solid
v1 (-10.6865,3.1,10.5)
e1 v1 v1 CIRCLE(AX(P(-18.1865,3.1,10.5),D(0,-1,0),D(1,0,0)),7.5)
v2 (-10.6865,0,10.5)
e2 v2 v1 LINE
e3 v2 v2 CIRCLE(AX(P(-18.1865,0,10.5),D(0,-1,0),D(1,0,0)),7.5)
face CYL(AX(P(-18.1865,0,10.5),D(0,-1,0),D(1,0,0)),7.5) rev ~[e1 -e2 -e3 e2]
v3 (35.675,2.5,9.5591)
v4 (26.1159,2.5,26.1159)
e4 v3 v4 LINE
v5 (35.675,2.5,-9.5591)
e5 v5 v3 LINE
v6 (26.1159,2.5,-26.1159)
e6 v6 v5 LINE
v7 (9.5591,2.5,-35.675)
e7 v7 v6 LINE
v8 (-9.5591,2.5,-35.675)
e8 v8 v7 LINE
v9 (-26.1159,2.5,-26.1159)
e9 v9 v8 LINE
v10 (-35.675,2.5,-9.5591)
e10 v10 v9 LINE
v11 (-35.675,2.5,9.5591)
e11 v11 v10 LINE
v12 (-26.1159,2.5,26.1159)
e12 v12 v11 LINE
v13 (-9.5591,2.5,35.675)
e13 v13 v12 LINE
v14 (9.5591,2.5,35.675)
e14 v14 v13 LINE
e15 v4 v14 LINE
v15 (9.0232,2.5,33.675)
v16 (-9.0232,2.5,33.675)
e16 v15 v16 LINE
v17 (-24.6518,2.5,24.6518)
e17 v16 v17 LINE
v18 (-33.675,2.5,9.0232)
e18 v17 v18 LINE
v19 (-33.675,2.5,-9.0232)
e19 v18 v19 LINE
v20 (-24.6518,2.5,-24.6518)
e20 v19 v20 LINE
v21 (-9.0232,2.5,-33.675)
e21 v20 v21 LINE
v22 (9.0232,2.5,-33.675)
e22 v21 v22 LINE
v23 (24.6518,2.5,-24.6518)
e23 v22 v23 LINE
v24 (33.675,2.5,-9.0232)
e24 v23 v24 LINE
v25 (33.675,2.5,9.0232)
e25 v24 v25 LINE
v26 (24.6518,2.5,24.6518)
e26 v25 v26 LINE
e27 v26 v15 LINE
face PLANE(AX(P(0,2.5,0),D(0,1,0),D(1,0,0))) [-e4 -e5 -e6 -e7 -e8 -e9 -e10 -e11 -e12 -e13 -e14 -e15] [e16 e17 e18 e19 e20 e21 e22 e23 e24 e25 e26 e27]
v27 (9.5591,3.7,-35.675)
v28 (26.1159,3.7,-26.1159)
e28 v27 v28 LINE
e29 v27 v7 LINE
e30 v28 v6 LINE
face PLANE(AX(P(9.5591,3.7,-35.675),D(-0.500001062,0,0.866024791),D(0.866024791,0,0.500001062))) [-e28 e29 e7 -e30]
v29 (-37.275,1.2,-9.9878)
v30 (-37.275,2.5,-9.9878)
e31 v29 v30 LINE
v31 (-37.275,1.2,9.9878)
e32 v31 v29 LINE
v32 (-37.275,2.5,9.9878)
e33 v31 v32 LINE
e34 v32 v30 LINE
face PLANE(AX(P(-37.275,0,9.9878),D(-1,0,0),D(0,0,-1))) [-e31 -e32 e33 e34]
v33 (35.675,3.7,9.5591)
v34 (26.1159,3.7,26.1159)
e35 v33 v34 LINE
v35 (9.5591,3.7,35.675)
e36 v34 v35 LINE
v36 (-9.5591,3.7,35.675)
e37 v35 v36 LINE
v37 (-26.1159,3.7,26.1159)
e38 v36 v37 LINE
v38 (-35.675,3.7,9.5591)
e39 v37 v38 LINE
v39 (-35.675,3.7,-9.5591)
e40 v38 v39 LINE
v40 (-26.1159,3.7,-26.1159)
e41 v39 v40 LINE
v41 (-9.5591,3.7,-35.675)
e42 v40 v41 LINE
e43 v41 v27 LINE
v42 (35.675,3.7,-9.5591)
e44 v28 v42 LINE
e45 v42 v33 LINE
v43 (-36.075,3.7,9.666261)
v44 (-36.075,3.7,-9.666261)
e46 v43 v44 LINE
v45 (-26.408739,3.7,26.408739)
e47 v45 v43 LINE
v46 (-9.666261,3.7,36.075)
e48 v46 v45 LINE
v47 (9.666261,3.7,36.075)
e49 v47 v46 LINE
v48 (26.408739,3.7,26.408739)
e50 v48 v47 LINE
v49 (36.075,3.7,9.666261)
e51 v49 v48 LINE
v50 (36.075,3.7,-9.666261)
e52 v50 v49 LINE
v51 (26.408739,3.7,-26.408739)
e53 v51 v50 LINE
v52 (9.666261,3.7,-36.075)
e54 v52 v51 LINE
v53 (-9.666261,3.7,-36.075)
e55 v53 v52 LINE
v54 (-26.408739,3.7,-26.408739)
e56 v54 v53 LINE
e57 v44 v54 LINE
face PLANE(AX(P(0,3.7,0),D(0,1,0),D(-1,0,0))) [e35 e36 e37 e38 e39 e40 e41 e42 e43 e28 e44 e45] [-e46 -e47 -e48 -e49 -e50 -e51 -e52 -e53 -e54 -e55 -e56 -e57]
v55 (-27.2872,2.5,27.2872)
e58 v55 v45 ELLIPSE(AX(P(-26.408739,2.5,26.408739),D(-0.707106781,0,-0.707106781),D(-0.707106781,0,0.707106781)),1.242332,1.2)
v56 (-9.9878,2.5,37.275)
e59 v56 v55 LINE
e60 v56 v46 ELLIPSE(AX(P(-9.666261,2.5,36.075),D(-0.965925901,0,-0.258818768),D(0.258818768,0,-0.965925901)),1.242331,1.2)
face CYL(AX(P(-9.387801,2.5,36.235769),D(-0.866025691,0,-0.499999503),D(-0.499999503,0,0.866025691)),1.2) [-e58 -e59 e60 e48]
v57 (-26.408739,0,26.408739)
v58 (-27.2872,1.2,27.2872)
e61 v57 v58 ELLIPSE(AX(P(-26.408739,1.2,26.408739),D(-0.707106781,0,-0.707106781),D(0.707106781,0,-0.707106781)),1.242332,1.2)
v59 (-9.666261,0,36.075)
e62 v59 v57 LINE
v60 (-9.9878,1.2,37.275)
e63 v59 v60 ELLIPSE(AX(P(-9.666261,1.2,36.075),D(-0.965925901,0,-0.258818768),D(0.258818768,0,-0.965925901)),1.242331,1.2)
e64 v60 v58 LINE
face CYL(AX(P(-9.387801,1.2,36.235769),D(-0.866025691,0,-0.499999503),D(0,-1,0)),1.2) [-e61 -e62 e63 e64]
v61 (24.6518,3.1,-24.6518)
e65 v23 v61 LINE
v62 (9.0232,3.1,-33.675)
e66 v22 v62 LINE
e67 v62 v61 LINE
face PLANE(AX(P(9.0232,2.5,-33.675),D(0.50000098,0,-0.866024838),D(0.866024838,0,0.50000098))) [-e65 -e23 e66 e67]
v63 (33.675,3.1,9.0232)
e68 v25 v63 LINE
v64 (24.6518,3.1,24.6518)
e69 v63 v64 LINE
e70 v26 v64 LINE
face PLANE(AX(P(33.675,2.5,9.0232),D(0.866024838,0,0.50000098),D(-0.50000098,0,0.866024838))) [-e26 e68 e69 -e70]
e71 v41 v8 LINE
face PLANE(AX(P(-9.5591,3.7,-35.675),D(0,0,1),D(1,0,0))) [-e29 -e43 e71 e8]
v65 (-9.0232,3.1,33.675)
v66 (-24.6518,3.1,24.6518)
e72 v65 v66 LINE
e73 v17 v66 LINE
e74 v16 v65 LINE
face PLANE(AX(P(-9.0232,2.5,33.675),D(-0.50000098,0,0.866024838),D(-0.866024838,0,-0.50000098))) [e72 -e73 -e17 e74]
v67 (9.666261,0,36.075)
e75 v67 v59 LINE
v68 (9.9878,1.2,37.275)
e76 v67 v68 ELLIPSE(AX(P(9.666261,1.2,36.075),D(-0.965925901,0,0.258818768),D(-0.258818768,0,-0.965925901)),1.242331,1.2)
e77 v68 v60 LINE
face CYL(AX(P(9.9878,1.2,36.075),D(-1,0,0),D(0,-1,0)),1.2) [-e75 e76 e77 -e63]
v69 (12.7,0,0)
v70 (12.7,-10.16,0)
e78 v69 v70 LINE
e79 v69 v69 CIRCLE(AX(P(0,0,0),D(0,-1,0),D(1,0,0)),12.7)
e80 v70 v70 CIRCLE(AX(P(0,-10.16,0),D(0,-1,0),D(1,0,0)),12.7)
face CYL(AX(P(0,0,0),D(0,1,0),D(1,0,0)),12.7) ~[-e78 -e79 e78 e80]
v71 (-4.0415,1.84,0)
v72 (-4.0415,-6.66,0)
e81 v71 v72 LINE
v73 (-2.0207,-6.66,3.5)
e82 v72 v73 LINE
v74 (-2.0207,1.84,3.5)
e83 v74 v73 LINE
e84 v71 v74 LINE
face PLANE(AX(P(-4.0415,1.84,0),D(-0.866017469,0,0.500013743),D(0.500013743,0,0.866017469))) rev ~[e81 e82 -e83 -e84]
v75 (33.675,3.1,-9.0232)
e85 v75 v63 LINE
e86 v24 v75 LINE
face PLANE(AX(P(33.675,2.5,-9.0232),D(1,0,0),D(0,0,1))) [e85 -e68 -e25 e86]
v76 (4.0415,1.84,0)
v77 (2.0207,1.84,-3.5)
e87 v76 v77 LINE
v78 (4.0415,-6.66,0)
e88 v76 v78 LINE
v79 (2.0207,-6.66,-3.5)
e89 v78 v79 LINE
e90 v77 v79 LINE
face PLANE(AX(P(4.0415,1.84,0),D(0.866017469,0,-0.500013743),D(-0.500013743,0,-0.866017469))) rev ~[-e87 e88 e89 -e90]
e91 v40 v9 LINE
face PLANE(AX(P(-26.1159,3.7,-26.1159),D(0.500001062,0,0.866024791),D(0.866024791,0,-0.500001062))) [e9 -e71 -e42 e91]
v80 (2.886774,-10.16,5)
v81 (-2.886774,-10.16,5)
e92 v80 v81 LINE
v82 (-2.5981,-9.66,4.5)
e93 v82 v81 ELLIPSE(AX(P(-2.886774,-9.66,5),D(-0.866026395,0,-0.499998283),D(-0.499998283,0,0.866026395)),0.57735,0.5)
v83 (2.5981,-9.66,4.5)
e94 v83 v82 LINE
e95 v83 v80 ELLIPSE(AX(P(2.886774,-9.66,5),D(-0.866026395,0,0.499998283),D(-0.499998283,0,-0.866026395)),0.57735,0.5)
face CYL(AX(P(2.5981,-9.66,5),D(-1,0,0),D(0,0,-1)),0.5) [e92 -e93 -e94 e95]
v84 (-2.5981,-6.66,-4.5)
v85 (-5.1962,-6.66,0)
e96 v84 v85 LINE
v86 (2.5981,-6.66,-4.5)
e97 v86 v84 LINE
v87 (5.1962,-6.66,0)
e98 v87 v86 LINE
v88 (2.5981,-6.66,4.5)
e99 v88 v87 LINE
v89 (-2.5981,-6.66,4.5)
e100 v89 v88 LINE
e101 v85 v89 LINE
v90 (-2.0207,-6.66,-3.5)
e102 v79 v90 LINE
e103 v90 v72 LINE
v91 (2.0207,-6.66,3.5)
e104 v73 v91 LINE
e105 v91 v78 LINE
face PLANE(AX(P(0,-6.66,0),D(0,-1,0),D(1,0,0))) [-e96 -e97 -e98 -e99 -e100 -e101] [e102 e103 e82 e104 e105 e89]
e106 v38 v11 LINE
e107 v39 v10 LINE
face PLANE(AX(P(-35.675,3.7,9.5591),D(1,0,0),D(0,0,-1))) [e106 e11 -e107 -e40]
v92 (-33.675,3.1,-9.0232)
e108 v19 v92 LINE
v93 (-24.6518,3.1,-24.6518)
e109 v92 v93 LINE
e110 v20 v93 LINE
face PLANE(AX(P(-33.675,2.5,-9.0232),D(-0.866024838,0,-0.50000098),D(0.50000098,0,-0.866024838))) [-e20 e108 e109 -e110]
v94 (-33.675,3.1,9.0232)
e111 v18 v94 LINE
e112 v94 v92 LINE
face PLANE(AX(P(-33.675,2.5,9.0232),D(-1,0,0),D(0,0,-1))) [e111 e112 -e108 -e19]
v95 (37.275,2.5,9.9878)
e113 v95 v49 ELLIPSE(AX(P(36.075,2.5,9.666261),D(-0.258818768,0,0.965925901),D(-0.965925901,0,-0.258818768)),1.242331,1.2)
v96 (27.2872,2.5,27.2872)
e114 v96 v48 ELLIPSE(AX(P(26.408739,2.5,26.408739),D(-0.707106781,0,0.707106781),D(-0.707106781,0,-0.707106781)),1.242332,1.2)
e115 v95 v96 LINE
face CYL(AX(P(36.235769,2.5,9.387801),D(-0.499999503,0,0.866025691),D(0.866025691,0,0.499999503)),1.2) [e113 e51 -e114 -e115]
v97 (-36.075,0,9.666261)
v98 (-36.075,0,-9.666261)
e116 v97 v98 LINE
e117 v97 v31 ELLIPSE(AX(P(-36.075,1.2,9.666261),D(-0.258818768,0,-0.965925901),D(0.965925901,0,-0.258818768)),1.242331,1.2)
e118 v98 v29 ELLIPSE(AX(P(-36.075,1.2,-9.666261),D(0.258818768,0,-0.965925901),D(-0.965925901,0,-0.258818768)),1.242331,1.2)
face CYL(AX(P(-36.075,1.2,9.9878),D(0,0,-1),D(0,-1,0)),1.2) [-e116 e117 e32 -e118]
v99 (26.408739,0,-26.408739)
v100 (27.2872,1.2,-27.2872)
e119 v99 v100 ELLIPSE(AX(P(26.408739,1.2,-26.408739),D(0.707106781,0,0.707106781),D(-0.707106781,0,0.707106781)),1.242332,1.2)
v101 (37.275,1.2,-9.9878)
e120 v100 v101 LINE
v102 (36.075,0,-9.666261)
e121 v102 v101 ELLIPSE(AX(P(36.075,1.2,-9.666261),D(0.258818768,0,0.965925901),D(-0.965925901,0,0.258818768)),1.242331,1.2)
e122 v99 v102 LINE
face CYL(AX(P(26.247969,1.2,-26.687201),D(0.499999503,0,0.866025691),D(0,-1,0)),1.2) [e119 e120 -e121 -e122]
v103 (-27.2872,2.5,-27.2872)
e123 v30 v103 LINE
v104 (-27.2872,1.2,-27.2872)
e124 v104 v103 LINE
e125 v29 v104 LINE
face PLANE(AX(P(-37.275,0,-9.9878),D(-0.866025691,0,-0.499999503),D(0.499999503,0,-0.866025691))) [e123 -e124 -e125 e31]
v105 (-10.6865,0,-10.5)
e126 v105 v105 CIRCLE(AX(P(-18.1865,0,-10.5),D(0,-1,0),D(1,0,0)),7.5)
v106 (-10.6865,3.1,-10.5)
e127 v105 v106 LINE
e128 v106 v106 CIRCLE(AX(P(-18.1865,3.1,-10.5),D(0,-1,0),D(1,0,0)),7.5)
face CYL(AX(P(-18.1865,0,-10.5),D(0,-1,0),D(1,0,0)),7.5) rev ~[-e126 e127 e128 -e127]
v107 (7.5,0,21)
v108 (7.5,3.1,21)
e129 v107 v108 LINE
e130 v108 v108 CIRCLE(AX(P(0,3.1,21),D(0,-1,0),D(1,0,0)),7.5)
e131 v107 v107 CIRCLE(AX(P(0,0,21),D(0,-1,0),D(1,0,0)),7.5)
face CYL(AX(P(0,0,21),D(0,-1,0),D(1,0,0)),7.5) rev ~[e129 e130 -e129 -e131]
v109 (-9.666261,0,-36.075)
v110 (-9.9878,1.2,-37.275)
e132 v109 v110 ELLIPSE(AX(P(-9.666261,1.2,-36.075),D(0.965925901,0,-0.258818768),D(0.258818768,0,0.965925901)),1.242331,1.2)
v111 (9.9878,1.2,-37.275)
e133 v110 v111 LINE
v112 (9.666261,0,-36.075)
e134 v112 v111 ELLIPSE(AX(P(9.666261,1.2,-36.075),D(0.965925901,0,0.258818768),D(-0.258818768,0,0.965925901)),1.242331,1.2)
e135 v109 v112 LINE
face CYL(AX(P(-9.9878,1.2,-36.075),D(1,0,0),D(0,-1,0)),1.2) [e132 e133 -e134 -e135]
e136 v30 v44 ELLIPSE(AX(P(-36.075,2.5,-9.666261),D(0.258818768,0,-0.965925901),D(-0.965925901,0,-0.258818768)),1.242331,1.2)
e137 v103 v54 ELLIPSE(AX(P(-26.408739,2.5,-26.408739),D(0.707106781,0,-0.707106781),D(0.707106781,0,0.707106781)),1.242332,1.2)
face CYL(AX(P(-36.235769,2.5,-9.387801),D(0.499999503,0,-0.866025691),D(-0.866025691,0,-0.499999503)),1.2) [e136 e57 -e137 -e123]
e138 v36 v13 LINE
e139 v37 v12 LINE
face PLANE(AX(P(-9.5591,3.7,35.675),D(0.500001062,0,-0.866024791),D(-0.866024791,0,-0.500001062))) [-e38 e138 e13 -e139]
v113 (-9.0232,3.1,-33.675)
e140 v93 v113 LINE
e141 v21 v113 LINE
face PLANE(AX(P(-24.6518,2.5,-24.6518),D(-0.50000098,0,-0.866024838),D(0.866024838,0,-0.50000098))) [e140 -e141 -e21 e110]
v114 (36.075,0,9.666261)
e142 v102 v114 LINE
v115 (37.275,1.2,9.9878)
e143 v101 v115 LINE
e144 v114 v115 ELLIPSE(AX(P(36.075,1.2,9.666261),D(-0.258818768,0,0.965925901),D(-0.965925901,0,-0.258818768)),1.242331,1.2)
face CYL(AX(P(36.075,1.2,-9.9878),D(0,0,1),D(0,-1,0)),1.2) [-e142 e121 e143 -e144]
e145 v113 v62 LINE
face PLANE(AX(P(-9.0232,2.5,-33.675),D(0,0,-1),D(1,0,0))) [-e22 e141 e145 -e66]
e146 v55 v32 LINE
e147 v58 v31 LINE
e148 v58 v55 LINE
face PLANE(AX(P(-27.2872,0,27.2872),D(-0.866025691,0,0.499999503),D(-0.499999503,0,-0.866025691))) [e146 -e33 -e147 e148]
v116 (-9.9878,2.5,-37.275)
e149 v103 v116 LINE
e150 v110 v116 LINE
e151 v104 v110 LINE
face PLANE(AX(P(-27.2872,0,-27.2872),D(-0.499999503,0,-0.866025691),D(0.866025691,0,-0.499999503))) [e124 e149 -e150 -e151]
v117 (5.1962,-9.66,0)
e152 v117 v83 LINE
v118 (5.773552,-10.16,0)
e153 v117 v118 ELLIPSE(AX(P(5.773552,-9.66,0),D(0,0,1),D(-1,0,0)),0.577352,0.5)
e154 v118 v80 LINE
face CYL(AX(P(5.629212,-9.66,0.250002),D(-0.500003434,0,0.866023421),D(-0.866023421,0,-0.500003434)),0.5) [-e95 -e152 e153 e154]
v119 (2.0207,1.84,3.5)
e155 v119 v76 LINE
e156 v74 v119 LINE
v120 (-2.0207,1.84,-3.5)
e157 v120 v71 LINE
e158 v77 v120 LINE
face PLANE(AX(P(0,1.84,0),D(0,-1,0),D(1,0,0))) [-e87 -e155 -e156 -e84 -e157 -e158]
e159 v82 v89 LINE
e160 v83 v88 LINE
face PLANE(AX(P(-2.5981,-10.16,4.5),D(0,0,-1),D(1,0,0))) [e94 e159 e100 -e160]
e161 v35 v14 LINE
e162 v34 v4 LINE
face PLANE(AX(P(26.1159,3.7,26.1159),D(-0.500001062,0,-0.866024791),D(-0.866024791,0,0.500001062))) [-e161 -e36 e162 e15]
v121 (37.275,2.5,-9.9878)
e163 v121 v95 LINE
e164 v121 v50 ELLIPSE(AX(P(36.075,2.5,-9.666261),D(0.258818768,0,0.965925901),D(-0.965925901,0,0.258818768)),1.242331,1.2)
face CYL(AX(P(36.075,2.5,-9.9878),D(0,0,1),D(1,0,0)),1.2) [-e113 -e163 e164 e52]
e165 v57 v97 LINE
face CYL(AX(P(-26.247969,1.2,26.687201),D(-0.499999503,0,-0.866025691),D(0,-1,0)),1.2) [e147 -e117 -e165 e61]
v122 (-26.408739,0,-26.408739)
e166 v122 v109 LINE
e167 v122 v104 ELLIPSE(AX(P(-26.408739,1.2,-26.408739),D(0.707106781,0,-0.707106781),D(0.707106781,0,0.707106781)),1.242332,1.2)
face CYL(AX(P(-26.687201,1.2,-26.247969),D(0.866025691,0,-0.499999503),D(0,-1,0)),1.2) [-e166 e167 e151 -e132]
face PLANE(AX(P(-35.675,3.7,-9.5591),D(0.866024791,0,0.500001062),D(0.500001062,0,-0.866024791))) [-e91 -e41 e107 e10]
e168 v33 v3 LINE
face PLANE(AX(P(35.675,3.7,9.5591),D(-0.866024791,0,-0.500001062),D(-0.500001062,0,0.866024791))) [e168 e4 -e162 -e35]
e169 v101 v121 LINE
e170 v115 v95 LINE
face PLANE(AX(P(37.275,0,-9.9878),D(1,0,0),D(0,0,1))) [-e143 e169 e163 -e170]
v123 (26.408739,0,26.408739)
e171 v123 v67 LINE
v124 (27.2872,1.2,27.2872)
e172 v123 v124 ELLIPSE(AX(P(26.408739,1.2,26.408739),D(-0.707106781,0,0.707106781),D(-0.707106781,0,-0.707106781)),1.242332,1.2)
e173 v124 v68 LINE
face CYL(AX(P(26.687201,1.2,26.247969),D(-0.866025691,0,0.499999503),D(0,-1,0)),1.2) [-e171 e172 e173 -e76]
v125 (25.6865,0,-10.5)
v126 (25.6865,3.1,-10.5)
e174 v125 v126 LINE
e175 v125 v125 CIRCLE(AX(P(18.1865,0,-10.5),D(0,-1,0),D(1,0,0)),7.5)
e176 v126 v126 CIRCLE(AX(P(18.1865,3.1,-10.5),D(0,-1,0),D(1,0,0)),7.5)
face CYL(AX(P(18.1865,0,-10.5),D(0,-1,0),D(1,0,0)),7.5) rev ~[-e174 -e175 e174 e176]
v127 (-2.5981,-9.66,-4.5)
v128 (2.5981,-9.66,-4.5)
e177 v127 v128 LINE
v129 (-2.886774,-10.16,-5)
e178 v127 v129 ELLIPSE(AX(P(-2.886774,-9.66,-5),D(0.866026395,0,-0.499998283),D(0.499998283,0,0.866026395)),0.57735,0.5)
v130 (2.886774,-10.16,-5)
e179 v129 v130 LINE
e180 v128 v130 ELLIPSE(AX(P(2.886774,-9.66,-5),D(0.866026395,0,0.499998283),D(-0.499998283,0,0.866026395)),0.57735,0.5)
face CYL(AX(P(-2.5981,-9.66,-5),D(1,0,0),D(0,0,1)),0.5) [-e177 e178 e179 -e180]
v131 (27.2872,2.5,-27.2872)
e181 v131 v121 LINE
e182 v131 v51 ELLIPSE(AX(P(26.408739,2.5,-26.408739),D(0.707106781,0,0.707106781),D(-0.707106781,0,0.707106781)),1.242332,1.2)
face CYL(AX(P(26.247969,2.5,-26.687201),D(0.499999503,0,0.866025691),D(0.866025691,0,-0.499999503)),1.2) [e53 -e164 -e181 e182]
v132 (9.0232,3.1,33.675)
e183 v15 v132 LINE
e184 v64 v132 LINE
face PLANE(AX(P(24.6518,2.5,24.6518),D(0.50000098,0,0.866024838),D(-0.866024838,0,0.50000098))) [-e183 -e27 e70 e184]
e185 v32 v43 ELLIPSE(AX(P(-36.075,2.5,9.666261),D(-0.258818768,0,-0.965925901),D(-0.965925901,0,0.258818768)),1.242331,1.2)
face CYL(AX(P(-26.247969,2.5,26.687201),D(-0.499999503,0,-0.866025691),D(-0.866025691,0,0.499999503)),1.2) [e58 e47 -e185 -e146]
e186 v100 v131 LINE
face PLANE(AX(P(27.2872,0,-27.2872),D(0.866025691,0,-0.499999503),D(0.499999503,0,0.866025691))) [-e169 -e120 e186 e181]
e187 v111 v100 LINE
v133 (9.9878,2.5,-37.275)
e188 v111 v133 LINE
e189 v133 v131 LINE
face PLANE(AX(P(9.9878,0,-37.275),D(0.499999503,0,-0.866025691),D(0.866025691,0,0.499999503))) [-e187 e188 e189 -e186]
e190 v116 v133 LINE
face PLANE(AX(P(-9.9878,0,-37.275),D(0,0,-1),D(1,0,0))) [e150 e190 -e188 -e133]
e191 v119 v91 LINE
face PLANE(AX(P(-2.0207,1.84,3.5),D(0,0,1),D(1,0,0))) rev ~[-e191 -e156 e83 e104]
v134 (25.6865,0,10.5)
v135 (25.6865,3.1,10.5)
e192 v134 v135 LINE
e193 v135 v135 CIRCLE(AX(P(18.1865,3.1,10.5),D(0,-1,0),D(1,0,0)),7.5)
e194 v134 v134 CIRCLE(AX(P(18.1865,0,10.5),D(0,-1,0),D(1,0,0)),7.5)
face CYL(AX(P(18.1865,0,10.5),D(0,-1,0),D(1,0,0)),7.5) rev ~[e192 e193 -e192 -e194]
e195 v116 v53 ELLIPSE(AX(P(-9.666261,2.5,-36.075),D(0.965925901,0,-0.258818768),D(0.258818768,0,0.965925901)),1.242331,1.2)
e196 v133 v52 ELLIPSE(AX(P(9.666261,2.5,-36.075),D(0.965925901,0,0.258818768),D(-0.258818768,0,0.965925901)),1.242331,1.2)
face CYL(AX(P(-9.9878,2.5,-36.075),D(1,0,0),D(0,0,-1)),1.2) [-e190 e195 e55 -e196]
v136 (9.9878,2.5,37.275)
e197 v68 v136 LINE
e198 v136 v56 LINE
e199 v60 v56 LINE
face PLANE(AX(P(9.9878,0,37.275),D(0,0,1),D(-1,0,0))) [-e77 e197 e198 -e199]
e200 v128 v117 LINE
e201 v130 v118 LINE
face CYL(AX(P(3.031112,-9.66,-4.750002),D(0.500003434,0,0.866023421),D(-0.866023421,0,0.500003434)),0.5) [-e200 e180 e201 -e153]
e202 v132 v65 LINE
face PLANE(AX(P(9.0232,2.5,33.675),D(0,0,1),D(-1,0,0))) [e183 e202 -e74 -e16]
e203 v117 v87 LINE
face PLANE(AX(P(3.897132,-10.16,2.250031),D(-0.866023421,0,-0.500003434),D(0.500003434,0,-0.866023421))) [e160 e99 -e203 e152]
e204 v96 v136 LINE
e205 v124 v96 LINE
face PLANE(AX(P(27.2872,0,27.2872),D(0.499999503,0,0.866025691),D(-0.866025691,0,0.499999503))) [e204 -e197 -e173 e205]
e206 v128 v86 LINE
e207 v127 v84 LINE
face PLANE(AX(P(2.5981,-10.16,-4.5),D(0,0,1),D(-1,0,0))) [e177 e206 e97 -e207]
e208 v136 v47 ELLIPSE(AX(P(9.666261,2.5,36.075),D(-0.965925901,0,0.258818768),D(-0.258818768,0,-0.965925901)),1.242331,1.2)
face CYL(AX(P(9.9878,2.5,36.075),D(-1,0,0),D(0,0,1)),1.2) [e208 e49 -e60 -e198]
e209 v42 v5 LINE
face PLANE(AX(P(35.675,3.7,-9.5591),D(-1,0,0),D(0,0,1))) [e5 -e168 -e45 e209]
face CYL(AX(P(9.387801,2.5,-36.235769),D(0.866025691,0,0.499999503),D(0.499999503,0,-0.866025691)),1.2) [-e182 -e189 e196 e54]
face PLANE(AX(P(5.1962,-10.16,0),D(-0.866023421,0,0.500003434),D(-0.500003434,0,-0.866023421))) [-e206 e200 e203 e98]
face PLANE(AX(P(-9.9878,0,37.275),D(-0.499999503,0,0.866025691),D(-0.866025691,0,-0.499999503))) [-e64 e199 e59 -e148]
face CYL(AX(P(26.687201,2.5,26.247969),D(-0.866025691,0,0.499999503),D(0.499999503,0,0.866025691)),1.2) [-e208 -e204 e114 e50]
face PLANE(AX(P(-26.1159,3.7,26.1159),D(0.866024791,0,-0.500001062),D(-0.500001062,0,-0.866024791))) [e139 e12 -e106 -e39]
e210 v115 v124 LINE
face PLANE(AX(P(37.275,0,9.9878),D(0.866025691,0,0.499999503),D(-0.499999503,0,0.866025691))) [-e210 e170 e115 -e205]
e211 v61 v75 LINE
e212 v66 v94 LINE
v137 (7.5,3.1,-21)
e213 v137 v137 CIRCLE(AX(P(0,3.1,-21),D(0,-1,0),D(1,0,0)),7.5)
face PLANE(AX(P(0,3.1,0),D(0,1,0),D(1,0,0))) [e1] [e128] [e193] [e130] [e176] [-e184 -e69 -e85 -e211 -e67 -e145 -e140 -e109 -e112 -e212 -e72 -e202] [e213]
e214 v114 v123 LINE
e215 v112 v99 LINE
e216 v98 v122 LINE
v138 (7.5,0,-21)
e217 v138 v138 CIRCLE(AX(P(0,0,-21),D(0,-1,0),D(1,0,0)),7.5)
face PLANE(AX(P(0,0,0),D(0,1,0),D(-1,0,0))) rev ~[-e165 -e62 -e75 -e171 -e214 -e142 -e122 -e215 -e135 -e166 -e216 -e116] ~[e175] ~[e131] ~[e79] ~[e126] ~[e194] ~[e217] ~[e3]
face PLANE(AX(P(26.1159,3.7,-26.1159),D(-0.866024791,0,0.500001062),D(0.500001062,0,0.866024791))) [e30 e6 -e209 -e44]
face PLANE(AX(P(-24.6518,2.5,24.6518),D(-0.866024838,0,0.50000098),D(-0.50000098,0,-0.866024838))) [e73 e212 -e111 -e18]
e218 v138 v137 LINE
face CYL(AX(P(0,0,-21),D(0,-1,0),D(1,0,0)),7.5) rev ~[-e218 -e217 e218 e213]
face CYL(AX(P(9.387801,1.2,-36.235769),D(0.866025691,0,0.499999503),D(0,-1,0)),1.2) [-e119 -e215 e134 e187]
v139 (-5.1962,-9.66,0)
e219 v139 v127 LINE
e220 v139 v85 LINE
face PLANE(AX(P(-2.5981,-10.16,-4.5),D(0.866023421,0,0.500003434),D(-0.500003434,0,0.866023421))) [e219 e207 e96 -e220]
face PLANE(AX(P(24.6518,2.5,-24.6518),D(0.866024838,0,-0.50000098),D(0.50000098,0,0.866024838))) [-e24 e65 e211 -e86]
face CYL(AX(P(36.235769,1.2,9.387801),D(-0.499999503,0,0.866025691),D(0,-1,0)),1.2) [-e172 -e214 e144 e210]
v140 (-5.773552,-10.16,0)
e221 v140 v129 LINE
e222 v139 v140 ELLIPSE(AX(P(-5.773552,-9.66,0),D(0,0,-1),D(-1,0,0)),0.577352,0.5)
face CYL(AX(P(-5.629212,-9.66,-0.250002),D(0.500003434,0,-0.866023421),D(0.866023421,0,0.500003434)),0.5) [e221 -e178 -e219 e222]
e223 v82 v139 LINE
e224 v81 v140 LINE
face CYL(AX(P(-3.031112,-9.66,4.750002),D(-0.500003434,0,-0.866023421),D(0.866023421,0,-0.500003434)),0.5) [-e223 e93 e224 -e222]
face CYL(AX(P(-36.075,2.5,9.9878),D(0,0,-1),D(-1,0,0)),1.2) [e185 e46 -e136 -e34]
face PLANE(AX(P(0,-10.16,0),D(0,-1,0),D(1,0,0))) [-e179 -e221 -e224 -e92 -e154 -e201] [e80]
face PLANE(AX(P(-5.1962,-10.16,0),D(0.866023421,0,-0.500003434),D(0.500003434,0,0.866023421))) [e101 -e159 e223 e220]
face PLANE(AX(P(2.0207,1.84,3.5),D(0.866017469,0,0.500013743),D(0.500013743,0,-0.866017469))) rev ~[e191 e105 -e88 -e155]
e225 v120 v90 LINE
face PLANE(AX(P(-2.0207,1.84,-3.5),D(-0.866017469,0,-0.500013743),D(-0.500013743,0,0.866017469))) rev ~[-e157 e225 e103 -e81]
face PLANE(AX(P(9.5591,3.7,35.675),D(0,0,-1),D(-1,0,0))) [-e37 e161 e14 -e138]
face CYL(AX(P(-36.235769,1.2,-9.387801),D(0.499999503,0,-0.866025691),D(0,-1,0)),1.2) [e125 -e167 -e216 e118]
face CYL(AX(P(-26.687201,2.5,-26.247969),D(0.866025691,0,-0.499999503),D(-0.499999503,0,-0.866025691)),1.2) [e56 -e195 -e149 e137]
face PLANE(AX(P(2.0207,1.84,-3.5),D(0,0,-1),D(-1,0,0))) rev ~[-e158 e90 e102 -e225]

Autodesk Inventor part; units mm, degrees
ref_plane "YZ Plane" through (0, 0, 0) normal (1, 0, 0) x (0, 1, 0)
ref_plane "XZ Plane" through (0, 0, 0) normal (0, 1, 0) x (-1, 0, 0)
ref_plane "XY Plane" through (0, 0, 0) normal (0, 0, 1) x (1, 0, 0)
sketch "스케치1" plane through (0, 0, 0) normal (0, 1, 0) x (-1, 0, 0)
  line L0 (24.9446, -24.9446) -> (9.1304, -34.075)
  line L1 (9.1304, -34.075) -> (-9.1304, -34.075)
  line L2 (-9.1304, -34.075) -> (-24.9446, -24.9446)
  line L3 (-24.9446, -24.9446) -> (-34.075, -9.1304)
  line L4 (-34.075, -9.1304) -> (-34.075, 9.1304)
  line L5 (-34.075, 9.1304) -> (-24.9446, 24.9446)
  line L6 (-24.9446, 24.9446) -> (-9.1304, 34.075)
  line L7 (-9.1304, 34.075) -> (9.1304, 34.075)
  line L8 (9.1304, 34.075) -> (24.9446, 24.9446)
  line L9 (24.9446, 24.9446) -> (34.075, 9.1304)
  line L10 (34.075, 9.1304) -> (34.075, -9.1304)
  line L11 (34.075, -9.1304) -> (24.9446, -24.9446)
  line L12 (9.9878, -37.275) -> (-9.9878, -37.275)
  line L13 (-9.9878, -37.275) -> (-27.2872, -27.2872)
  line L14 (-27.2872, -27.2872) -> (-37.275, -9.9878)
  line L15 (-37.275, -9.9878) -> (-37.275, 9.9878)
  line L16 (-37.275, 9.9878) -> (-27.2872, 27.2872)
  line L17 (-27.2872, 27.2872) -> (-9.9878, 37.275)
  line L18 (-9.9878, 37.275) -> (9.9878, 37.275)
  line L19 (9.9878, 37.275) -> (27.2872, 27.2872)
  line L20 (27.2872, 27.2872) -> (37.275, 9.9878)
  line L21 (37.275, 9.9878) -> (37.275, -9.9878)
  line L22 (37.275, -9.9878) -> (27.2872, -27.2872)
  line L23 (27.2872, -27.2872) -> (9.9878, -37.275)
  point P0 (0, 0)
  point P1 (0, 0)
  point P2 (0, 0)
  dimension "d0" = 70.554
  dimension "d1" = 3.2
extrude "돌출1" add sketch "스케치1" along normal blind 3.7 contours L0 L1 L2 L3 L4 L5 L6 L7 L8 L9 L10 L11 | L12 L13 L14 L15 L16 L17 L18 L19 L20 L21 L22 L23
sketch "스케치2" plane through (0, 3.7, 0) normal (0, 1, 0) x (1, 0, 0)
  line L0 (-9.5591, 35.675) -> (9.5591, 35.675)
  line L1 (9.5591, 35.675) -> (26.1159, 26.1159)
  line L2 (26.1159, 26.1159) -> (35.675, 9.5591)
  line L3 (35.675, 9.5591) -> (35.675, -9.5591)
  line L4 (35.675, -9.5591) -> (26.1159, -26.1159)
  line L5 (26.1159, -26.1159) -> (9.5591, -35.675)
  line L6 (9.5591, -35.675) -> (-9.5591, -35.675)
  line L7 (-9.5591, -35.675) -> (-26.1159, -26.1159)
  line L8 (-26.1159, -26.1159) -> (-35.675, -9.5591)
  line L9 (-35.675, -9.5591) -> (-35.675, 9.5591)
  line L10 (-35.675, 9.5591) -> (-26.1159, 26.1159)
  line L11 (-26.1159, 26.1159) -> (-9.5591, 35.675)
  line L12 (9.9878, 37.275) -> (-9.9878, 37.275) projected
  point P0 (0, 0)
  point P1 (0, 0)
  point P2 (0, 35.675)
  dimension "d4" = 1.6
extrude "돌출2" cut sketch "스케치2" against normal blind 1.2
sketch "스케치3" plane through (0, 2.5, 0) normal (0, 1, 0) x (1, 0, 0)
  line L0 (-9.0232, 33.675) -> (9.0232, 33.675)
  line L1 (9.0232, 33.675) -> (24.6518, 24.6518)
  line L2 (24.6518, 24.6518) -> (33.675, 9.0232)
  line L3 (33.675, 9.0232) -> (33.675, -9.0232)
  line L4 (33.675, -9.0232) -> (24.6518, -24.6518)
  line L5 (24.6518, -24.6518) -> (9.0232, -33.675)
  line L6 (9.0232, -33.675) -> (-9.0232, -33.675)
  line L7 (-9.0232, -33.675) -> (-24.6518, -24.6518)
  line L8 (-24.6518, -24.6518) -> (-33.675, -9.0232)
  line L9 (-33.675, -9.0232) -> (-33.675, 9.0232)
  line L10 (-33.675, 9.0232) -> (-24.6518, 24.6518)
  line L11 (-24.6518, 24.6518) -> (-9.0232, 33.675)
  line L12 (-9.5591, 35.675) -> (9.5591, 35.675) projected
  point P0 (0, 0)
  point P1 (0, 0)
  dimension "d7" = 2
extrude "돌출3" add sketch "스케치3" along normal blind 0.6
fillet "모깎기1" radius 1.2 24 edges at (-18.6375, 3.7, 32.2811) (-32.2811, 3.7, 18.6375) (-37.275, 3.7, 0) (0, 3.7, 37.275) (18.6375, 3.7, 32.2811) (32.2811, 3.7, 18.6375) (37.275, 3.7, 0) (32.2811, 3.7, -18.6375) (18.6375, 3.7, -32.2811) (0, 3.7, -37.275) (-18.6375, 3.7, -32.2811) (-32.2811, 3.7, -18.6375) (-37.275, 0, 0) (-32.2811, 0, 18.6375) (-18.6375, 0, 32.2811) (0, 0, 37.275) (18.6375, 0, 32.2811) (32.2811, 0, 18.6375) (37.275, 0, 0) (32.2811, 0, -18.6375) (18.6375, 0, -32.2811) (0, 0, -37.275) (-18.6375, 0, -32.2811) (-32.2811, 0, -18.6375)
sketch "스케치11" plane through (0, 0, 0) normal (0, -1, 0) x (1, 0, 0)
  circle A0 centre (0, 0) radius 12.7
  dimension "d48" = 25.4
extrude "돌출11" add sketch "스케치11" along normal blind 10.16
sketch "스케치12" plane through (0, -10.16, 0) normal (0, -1, 0) x (1, 0, 0)
  circle A0 centre (0, 0) radius 4.5
  line L0 (-2.5981, 4.5) -> (2.5981, 4.5)
  line L1 (2.5981, 4.5) -> (5.1962, 0)
  line L2 (5.1962, 0) -> (2.5981, -4.5)
  line L3 (2.5981, -4.5) -> (-2.5981, -4.5)
  line L4 (-2.5981, -4.5) -> (-5.1962, 0)
  line L5 (-5.1962, 0) -> (-2.5981, 4.5)
  point P0 (-3.8971, 2.25)
  point P1 (-3.8971, -2.25)
  point P2 (0, 4.5)
  point P3 (0, -4.5)
  point P4 (3.8971, -2.25)
  point P5 (3.8971, 2.25)
  dimension "d51" = 9
extrude "돌출12" cut sketch "스케치12" against normal blind 12
sketch "스케치13" plane through (0, 0, 0) normal (0, -1, 0) x (1, 0, 0)
  circle A0 centre (0, -21) radius 7.5
  circle A1 centre (18.1865, -10.5) radius 7.5
  circle A2 centre (18.1865, 10.5) radius 7.5
  circle A3 centre (0, 21) radius 7.5
  circle A4 centre (-18.1865, 10.5) radius 7.5
  circle A5 centre (-18.1865, -10.5) radius 7.5
  point P0 (0, 0)
  dimension "d56" = 15
  dimension "d57" = 21
  dimension "d60" = 360
extrude "돌출13" cut sketch "스케치13" against normal up to surface (3.1 mm away)
sketch "스케치16" plane through (0, 1.84, 0) normal (0, -1, 0) x (1, 0, 0)
  line L0 (-2.5981, 4.5) -> (2.5981, 4.5) projected
  line L1 (-5.1962, 0) -> (-2.5981, 4.5) projected
  line L2 (-2.5981, -4.5) -> (-5.1962, 0) projected
  line L3 (2.5981, -4.5) -> (-2.5981, -4.5) projected
  line L4 (5.1962, 0) -> (2.5981, -4.5) projected
  line L5 (2.5981, 4.5) -> (5.1962, 0) projected
  line L6 (-2.0207, 3.5) -> (2.0207, 3.5)
  line L7 (2.0207, 3.5) -> (4.0415, 0)
  line L8 (4.0415, 0) -> (2.0207, -3.5)
  line L9 (2.0207, -3.5) -> (-2.0207, -3.5)
  line L10 (-2.0207, -3.5) -> (-4.0415, 0)
  line L11 (-4.0415, 0) -> (-2.0207, 3.5)
  point P0 (0, 0)
  point P1 (0, 0)
  dimension "d82" = 1
extrude "돌출14" add sketch "스케치16" along normal blind 8.5
fillet "모깎기2" radius 0.5 6 edges at (0, -10.16, 4.5) (3.8971, -10.16, 2.25) (3.8971, -10.16, -2.25) (0, -10.16, -4.5) (-3.8971, -10.16, 2.25) (-3.8971, -10.16, -2.25)
equation "\"d71\" = 55deg"
properties part number "OV-PAM_n_12_bottom"
